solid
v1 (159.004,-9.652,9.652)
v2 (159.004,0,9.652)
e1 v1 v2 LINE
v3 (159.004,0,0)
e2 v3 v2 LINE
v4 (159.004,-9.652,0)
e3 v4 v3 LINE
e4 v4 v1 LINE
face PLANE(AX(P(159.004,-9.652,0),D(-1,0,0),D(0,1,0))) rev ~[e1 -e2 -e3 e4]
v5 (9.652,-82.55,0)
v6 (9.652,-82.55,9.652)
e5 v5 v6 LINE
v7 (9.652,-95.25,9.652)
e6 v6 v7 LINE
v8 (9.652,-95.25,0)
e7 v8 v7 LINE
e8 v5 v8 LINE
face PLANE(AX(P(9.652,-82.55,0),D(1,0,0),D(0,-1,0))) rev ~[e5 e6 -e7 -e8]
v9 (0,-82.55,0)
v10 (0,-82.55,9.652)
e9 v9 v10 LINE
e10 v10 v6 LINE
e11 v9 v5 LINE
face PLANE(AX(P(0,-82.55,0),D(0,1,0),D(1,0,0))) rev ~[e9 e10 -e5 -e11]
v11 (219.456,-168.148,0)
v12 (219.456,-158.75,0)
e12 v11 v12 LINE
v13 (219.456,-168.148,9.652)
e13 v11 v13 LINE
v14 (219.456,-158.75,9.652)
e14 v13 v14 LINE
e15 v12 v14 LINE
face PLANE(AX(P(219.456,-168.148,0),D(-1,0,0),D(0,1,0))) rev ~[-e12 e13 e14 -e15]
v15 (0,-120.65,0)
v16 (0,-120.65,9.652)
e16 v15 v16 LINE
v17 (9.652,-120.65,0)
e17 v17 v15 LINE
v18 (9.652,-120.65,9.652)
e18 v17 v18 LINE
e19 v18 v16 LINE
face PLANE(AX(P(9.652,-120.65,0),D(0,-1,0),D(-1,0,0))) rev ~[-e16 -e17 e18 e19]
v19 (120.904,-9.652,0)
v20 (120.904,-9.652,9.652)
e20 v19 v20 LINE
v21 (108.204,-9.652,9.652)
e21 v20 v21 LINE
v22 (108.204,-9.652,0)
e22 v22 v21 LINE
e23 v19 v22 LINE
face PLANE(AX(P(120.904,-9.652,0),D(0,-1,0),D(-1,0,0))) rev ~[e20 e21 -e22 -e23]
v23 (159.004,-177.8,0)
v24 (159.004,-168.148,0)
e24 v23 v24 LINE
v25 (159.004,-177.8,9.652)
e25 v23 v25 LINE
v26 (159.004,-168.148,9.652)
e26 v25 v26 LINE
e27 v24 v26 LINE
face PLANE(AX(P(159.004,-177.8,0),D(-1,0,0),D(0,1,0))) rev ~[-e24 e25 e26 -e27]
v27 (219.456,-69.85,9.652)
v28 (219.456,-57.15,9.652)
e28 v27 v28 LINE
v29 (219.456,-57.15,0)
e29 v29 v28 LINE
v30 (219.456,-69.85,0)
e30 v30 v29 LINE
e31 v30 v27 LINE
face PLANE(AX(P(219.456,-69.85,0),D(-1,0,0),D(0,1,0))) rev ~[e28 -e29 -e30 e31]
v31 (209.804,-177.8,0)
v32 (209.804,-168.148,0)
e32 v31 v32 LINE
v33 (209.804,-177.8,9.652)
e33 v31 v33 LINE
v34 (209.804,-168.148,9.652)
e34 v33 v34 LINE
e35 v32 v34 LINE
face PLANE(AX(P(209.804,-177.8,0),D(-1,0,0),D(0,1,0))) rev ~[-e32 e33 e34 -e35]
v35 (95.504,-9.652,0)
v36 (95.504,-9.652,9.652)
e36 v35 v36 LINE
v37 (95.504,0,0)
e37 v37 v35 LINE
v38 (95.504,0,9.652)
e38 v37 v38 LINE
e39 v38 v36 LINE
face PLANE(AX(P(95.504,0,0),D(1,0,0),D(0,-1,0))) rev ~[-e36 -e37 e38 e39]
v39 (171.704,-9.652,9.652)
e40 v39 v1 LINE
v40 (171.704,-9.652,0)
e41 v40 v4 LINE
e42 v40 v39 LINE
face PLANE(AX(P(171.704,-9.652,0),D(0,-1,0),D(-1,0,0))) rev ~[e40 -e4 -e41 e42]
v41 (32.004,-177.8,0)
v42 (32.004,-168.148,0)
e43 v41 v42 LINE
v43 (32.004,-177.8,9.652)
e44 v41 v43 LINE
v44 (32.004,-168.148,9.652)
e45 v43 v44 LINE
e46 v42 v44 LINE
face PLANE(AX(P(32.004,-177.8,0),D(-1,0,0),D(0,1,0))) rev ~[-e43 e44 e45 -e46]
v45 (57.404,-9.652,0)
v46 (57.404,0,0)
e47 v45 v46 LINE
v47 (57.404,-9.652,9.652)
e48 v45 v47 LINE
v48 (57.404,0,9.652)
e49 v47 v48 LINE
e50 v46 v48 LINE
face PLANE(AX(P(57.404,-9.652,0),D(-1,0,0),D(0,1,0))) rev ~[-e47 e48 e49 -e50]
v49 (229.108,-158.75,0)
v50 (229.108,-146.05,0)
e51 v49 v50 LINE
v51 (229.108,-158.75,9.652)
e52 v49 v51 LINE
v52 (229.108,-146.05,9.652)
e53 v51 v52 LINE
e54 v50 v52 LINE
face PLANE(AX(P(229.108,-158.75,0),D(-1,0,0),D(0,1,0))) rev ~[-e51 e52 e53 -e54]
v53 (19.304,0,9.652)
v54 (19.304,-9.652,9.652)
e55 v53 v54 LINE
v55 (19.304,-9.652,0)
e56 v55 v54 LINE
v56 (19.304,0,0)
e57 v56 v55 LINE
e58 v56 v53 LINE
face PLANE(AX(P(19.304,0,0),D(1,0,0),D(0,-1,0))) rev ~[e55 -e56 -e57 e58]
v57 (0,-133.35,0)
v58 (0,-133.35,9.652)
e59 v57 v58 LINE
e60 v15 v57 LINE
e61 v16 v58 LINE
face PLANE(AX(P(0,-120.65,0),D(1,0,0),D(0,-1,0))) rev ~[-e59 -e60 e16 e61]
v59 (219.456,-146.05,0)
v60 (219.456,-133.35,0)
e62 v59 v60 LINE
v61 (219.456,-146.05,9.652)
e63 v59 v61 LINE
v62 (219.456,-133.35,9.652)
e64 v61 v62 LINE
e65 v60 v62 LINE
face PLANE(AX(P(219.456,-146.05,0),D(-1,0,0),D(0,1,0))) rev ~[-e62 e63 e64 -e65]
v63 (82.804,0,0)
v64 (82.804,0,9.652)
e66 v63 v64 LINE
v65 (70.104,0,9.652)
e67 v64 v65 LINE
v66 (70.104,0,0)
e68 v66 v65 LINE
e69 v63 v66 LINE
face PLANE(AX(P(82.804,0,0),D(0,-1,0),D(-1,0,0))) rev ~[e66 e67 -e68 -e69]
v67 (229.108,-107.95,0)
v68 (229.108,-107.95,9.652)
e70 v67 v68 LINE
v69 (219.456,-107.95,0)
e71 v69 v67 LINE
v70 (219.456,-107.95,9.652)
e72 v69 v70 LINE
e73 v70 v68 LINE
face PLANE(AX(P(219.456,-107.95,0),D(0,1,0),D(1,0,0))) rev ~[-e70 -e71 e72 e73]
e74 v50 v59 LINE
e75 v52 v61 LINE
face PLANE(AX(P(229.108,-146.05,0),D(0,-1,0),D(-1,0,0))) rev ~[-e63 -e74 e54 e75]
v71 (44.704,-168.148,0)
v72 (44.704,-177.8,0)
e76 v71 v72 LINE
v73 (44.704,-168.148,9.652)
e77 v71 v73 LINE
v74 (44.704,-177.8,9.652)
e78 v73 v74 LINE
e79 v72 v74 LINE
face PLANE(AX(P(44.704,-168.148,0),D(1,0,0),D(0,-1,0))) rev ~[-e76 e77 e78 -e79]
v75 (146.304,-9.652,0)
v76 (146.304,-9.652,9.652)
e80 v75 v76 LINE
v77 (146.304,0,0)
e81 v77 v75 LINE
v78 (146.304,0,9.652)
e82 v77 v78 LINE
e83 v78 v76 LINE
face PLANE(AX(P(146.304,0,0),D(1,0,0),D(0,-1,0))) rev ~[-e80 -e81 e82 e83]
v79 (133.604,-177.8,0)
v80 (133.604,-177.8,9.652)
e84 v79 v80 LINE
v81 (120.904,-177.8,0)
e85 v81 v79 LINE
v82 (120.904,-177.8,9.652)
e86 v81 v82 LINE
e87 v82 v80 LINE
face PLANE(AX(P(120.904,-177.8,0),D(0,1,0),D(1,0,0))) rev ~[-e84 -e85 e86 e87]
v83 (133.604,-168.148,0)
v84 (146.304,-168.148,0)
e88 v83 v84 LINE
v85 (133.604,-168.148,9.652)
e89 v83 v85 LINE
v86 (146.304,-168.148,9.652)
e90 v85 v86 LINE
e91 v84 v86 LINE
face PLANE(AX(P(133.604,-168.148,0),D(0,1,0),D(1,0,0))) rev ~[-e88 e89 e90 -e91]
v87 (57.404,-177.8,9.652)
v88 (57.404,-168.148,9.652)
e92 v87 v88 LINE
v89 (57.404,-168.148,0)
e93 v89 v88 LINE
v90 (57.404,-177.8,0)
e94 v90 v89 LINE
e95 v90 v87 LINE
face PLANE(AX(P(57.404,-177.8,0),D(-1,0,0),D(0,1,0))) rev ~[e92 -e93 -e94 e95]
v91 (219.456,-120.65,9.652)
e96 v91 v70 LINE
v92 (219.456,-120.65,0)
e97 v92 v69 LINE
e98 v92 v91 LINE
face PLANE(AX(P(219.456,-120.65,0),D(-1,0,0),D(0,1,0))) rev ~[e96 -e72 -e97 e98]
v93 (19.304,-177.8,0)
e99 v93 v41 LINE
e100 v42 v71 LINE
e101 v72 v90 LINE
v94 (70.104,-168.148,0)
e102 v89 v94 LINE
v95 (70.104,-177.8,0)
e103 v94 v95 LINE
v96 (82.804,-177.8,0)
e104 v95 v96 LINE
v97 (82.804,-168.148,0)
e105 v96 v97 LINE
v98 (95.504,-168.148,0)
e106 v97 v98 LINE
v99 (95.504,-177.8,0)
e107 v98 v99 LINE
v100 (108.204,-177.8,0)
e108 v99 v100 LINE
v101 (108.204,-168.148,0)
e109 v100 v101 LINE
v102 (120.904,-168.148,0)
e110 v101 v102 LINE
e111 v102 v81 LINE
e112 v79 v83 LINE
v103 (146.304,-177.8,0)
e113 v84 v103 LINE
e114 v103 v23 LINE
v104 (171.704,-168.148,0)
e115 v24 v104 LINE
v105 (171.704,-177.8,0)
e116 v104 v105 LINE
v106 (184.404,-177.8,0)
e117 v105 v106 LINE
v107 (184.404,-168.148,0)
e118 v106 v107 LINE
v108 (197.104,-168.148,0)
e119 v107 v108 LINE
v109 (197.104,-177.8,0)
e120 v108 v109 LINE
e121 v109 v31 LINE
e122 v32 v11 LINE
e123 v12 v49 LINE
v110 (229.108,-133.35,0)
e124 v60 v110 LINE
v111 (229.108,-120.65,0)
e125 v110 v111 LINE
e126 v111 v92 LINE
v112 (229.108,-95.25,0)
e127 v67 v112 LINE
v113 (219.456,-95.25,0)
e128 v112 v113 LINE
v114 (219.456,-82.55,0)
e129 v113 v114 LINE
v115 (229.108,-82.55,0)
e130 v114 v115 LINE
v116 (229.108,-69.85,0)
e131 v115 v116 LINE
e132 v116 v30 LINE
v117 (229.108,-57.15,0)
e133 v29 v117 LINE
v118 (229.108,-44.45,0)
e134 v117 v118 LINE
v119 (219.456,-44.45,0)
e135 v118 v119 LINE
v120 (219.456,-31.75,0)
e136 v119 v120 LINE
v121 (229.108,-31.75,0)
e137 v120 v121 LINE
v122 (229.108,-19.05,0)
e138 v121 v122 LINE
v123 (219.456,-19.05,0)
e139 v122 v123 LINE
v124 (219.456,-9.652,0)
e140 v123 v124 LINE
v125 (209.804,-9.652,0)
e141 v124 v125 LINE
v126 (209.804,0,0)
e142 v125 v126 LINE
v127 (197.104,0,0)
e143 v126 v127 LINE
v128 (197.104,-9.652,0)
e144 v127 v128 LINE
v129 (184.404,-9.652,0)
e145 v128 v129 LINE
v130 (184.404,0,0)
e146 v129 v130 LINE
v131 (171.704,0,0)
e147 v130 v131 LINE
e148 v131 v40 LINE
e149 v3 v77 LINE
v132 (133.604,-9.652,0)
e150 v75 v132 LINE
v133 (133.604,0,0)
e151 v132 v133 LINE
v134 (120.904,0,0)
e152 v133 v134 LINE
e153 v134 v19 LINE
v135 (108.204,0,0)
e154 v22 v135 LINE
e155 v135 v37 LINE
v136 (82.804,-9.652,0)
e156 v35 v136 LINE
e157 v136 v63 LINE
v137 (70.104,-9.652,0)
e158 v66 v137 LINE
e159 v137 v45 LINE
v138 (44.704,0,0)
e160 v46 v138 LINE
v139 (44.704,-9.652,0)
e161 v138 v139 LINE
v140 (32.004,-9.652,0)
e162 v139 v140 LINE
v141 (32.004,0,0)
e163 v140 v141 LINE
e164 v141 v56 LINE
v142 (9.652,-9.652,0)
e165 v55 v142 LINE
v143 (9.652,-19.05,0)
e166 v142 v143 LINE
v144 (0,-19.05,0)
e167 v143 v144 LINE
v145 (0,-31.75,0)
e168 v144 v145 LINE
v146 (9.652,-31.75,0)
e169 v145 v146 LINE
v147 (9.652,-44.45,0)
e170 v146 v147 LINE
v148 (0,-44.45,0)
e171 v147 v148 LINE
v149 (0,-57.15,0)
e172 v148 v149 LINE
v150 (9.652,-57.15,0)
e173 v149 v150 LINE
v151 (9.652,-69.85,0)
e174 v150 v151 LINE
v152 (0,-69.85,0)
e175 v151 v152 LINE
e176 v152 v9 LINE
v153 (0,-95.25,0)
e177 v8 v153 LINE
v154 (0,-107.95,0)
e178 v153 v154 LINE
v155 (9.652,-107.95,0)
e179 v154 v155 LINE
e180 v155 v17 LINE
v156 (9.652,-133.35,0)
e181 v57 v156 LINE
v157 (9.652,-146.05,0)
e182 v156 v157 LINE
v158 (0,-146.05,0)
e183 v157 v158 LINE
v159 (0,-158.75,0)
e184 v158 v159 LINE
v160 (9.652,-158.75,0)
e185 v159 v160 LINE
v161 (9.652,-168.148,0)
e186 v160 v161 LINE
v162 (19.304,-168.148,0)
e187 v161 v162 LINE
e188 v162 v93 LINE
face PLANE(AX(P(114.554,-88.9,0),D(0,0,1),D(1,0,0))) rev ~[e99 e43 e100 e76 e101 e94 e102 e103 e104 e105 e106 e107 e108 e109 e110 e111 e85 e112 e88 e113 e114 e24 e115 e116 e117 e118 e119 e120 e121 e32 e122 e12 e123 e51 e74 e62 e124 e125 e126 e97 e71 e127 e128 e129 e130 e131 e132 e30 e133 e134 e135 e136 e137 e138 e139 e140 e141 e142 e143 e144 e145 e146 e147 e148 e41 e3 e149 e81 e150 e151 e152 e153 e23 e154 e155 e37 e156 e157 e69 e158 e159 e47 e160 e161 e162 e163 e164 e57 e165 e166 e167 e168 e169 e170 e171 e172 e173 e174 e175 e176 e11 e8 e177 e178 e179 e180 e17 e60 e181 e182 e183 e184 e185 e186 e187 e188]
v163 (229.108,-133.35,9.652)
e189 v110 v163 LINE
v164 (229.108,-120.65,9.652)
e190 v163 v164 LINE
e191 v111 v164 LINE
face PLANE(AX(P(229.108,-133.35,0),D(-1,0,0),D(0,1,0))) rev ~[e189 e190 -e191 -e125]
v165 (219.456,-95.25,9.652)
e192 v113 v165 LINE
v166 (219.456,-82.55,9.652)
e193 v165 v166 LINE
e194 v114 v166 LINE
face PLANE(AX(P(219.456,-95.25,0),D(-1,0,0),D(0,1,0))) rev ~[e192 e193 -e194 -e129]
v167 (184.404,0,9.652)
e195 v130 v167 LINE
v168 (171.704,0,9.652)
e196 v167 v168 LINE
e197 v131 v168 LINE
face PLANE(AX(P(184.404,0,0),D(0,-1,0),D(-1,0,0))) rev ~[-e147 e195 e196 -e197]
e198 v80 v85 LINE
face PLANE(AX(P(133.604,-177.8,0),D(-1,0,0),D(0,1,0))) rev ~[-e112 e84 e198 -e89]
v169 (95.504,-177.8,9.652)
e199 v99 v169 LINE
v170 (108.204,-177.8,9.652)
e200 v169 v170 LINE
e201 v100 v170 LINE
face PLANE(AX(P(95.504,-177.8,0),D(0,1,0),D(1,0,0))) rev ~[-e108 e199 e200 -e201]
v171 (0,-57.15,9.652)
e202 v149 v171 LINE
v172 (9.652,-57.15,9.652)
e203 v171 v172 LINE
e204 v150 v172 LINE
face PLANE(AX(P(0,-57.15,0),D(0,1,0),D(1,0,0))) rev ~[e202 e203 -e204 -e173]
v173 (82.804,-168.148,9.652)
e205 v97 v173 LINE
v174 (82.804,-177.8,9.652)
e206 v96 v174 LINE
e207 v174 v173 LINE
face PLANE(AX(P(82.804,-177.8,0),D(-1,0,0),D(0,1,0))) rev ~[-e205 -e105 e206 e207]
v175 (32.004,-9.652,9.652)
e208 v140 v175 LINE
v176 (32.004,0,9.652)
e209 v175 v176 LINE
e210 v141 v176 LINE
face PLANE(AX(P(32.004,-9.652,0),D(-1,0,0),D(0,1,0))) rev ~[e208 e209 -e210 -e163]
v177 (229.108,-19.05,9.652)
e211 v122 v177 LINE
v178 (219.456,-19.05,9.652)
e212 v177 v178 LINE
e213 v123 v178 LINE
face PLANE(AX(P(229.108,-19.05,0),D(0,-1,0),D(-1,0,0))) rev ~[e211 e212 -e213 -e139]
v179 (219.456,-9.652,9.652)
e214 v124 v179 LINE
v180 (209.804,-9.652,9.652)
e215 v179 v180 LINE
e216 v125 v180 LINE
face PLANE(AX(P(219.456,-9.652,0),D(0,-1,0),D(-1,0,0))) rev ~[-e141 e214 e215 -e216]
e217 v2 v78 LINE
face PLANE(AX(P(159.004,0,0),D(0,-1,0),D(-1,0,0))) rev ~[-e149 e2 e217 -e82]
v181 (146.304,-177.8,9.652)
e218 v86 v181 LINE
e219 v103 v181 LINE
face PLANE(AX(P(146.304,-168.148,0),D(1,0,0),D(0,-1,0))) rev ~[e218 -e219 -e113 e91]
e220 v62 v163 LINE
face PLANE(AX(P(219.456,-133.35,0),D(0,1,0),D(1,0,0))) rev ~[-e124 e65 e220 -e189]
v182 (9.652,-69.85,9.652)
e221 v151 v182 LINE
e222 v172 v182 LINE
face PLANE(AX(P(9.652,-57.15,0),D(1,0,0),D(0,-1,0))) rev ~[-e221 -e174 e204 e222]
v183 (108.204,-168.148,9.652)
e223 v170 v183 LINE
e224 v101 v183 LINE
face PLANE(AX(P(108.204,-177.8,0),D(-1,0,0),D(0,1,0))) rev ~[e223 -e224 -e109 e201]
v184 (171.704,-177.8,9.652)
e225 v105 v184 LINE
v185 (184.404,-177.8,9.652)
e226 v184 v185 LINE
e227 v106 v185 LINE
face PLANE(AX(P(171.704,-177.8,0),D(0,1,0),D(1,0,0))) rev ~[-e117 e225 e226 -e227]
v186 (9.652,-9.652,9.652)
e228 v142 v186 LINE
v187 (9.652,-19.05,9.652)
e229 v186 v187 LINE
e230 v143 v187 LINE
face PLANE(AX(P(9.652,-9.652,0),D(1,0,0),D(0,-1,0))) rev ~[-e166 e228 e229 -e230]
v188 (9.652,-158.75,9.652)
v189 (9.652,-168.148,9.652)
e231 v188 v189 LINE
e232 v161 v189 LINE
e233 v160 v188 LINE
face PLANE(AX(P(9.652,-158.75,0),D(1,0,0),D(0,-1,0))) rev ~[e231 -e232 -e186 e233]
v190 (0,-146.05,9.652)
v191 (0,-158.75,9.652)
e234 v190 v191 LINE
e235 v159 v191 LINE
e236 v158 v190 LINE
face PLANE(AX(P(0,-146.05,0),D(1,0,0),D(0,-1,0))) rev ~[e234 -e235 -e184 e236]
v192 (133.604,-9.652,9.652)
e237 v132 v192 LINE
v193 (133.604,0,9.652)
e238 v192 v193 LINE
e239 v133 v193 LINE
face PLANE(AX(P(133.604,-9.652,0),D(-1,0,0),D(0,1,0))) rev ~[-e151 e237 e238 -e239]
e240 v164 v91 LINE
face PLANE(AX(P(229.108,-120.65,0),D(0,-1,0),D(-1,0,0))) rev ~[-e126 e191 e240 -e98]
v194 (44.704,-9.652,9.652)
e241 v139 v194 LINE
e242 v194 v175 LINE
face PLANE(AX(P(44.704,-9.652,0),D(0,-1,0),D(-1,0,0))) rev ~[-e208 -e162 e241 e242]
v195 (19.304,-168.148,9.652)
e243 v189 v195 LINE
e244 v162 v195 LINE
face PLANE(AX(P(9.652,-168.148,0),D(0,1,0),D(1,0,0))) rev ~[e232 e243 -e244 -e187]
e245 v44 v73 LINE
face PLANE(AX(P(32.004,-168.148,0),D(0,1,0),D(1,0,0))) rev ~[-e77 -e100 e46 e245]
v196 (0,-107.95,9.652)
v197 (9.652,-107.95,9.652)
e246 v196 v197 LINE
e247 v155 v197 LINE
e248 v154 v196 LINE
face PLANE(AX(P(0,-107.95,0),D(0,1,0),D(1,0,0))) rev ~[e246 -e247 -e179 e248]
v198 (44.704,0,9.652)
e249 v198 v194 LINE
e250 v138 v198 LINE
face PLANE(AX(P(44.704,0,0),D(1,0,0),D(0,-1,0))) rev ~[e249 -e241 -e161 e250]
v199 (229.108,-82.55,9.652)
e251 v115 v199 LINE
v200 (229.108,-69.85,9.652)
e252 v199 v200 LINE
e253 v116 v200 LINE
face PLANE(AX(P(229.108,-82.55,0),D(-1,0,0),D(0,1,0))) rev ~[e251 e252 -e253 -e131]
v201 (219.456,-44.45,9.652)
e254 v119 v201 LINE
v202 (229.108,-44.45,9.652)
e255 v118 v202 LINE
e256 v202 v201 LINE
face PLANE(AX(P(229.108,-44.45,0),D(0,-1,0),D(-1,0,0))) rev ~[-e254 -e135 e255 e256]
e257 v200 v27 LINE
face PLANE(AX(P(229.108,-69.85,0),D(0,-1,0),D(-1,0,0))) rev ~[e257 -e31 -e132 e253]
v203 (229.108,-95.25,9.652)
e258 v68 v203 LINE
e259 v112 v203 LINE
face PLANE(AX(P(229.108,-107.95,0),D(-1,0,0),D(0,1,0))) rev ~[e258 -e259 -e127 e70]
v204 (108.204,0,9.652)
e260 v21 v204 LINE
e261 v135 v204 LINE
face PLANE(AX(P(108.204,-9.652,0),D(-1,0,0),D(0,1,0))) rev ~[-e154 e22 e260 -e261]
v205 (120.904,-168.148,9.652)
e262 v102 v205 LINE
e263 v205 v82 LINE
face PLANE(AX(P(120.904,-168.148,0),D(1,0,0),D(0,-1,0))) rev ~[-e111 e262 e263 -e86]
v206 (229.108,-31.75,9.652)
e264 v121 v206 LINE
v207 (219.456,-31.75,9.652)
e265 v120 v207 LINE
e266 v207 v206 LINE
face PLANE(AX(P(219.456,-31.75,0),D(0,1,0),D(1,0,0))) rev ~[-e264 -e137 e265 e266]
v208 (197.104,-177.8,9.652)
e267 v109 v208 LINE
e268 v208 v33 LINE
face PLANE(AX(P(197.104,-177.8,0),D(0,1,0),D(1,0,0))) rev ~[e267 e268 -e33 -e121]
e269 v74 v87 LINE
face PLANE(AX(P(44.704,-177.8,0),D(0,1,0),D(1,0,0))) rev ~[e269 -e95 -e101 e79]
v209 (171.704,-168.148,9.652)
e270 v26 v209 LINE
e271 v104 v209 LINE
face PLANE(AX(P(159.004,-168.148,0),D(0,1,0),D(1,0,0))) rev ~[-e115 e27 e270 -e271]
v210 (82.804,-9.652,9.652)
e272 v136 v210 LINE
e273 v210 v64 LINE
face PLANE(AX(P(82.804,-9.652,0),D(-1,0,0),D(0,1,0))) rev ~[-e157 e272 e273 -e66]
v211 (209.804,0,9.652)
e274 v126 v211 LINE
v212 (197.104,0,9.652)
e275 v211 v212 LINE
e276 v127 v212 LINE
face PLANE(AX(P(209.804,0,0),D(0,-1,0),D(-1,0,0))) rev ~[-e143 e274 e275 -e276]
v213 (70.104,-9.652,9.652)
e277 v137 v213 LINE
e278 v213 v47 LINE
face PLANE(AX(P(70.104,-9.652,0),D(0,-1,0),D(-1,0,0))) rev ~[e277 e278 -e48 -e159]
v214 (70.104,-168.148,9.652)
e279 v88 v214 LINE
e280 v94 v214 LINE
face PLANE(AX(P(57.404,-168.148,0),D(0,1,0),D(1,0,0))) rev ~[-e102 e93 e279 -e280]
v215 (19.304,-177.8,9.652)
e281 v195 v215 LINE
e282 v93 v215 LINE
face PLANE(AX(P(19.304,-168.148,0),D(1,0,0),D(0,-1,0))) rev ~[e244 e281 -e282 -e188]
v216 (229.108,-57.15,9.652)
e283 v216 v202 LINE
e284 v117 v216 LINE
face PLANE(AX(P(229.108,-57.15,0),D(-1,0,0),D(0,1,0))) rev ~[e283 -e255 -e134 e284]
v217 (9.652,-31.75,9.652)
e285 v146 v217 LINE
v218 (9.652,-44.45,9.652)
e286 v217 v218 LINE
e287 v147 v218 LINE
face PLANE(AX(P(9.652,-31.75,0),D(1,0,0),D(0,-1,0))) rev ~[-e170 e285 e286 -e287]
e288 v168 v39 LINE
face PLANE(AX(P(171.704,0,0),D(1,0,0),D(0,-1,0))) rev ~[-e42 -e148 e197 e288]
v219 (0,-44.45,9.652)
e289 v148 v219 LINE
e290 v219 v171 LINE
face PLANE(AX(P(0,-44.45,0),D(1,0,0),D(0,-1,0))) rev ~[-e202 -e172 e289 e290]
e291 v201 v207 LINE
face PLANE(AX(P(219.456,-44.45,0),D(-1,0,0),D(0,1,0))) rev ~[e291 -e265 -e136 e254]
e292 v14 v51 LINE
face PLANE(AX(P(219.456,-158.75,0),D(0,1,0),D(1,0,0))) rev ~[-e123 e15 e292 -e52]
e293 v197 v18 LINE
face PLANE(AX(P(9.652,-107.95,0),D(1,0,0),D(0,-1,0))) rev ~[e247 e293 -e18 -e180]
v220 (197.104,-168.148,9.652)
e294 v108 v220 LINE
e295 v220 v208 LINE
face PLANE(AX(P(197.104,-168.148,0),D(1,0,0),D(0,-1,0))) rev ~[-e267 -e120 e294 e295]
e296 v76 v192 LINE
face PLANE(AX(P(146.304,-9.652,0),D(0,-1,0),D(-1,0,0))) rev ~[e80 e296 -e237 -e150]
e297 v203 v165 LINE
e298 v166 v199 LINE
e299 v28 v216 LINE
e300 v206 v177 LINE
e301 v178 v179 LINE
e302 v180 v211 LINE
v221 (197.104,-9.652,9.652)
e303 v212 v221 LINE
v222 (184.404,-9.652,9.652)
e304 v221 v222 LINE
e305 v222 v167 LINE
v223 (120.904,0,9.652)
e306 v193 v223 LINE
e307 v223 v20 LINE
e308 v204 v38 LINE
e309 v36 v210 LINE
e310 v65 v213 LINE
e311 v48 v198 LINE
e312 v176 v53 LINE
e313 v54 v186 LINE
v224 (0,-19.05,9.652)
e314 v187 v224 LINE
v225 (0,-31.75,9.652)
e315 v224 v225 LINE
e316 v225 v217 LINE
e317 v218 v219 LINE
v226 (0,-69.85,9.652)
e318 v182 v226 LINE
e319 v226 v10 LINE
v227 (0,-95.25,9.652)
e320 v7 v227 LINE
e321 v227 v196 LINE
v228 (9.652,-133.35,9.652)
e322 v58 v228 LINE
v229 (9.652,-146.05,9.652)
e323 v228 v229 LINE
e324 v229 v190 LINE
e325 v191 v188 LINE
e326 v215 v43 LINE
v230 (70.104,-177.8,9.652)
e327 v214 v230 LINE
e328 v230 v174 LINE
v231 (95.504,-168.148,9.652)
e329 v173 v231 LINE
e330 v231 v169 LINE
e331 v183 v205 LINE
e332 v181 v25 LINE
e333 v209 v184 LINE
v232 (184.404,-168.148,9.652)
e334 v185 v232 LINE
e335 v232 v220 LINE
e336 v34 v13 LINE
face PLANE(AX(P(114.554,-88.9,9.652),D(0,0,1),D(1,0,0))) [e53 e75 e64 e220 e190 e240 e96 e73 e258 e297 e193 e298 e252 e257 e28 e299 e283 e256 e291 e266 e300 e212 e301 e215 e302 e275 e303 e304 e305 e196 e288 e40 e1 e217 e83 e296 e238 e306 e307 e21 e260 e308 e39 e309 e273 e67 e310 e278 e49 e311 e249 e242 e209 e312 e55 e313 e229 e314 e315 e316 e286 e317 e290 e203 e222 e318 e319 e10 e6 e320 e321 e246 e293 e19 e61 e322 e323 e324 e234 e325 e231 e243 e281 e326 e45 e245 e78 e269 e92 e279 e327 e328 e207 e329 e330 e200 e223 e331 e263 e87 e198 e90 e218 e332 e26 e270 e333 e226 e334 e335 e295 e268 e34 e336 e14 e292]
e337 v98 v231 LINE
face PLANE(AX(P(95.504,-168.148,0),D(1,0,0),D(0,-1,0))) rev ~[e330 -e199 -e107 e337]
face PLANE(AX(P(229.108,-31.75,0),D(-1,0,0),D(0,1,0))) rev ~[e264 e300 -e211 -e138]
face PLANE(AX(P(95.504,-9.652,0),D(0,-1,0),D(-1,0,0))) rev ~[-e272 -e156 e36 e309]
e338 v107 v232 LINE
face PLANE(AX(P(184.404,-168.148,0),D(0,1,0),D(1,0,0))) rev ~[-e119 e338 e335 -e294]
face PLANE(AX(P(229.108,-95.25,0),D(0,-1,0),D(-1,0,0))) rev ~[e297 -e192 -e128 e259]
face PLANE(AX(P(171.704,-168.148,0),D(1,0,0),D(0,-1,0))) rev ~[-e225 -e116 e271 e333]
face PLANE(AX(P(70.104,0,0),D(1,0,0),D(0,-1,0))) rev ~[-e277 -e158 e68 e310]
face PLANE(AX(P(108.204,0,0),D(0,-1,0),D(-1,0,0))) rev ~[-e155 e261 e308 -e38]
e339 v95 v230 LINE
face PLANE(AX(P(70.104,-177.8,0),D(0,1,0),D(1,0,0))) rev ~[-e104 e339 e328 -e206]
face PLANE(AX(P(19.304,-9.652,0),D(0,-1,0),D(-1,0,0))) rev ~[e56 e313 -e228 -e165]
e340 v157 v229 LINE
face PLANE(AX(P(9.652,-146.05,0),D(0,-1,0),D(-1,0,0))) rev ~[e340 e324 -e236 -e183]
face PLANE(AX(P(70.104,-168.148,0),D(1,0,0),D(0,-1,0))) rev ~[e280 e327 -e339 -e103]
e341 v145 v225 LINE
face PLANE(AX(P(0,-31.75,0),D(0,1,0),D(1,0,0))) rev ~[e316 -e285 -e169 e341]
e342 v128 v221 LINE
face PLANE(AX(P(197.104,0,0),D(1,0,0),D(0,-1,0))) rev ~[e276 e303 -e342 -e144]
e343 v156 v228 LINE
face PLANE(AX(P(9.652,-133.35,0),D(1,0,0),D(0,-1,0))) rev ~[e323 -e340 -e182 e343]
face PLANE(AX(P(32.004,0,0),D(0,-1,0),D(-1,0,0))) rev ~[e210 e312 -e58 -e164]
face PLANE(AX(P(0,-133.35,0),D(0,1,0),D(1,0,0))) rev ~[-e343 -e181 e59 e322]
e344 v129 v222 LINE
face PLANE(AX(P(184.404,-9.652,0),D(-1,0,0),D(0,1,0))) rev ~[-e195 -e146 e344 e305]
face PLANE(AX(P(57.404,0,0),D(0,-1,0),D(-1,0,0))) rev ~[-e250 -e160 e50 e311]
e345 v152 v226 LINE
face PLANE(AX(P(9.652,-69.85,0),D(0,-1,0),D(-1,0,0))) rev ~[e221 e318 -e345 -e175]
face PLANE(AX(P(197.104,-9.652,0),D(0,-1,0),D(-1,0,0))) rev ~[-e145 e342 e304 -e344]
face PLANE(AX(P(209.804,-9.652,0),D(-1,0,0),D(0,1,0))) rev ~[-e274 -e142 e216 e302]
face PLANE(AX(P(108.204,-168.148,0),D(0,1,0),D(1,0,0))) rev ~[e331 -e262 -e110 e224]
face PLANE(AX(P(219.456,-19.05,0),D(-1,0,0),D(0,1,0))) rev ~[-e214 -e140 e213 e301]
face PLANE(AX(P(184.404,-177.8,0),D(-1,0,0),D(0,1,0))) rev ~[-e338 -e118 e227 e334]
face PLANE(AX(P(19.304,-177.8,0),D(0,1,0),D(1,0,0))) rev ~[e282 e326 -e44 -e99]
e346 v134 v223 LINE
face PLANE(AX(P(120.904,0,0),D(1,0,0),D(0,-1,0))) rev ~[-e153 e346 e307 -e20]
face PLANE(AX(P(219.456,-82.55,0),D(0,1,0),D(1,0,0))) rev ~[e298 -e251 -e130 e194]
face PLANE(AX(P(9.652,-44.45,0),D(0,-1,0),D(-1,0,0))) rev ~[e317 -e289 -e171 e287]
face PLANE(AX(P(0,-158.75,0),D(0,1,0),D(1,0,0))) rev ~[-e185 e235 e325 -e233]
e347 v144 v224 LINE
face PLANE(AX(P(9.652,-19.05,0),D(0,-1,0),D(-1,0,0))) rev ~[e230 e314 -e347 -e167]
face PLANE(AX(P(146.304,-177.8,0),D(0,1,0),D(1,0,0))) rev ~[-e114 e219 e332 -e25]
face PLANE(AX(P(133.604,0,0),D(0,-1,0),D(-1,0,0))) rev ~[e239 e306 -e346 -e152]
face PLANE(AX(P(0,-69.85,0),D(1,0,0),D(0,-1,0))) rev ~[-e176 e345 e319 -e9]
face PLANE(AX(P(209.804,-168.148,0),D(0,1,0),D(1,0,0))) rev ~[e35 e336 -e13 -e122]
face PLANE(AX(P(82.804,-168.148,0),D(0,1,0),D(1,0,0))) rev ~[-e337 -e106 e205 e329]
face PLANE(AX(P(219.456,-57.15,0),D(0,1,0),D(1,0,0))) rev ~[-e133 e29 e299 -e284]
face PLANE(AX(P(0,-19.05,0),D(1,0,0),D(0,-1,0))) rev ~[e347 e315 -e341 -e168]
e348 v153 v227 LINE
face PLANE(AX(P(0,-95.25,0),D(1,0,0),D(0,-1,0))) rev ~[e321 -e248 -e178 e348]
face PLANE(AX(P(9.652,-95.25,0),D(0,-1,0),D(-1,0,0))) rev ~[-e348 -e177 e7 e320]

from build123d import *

# Parameters (mm, degrees)
F1_DEPTH = 9.652


with BuildPart() as f1:
    # F0 (on Top) → F1 (new body)
    with BuildSketch(Plane.XY):
        Polygon((32.004, 0), (19.304, 0), (19.304, -9.652), (9.652, -9.652), (9.652, -19.05), (0, -19.05), (0, -31.75), (9.652, -31.75), (9.652, -44.45), (0, -44.45), (0, -57.15), (9.652, -57.15), (9.652, -69.85), (0, -69.85), (0, -82.55), (9.652, -82.55), (9.652, -95.25), (0, -95.25), (0, -107.95), (9.652, -107.95), (9.652, -120.65), (0, -120.65), (0, -133.35), (9.652, -133.35), (9.652, -146.05), (0, -146.05), (0, -158.75), (9.652, -158.75), (9.652, -168.148), (19.304, -168.148), (19.304, -177.8), (32.004, -177.8), (32.004, -168.148), (44.704, -168.148), (44.704, -177.8), (57.404, -177.8), (57.404, -168.148), (70.104, -168.148), (70.104, -177.8), (82.804, -177.8), (82.804, -168.148), (95.504, -168.148), (95.504, -177.8), (108.204, -177.8), (108.204, -168.148), (120.904, -168.148), (120.904, -177.8), (133.604, -177.8), (133.604, -168.148), (146.304, -168.148), (146.304, -177.8), (159.004, -177.8), (159.004, -168.148), (171.704, -168.148), (171.704, -177.8), (184.404, -177.8), (184.404, -168.148), (197.104, -168.148), (197.104, -177.8), (209.804, -177.8), (209.804, -168.148), (219.456, -168.148), (219.456, -158.75), (229.108, -158.75), (229.108, -146.05), (219.456, -146.05), (219.456, -133.35), (229.108, -133.35), (229.108, -120.65), (219.456, -120.65), (219.456, -107.95), (229.108, -107.95), (229.108, -95.25), (219.456, -95.25), (219.456, -82.55), (229.108, -82.55), (229.108, -69.85), (219.456, -69.85), (219.456, -57.15), (229.108, -57.15), (229.108, -44.45), (219.456, -44.45), (219.456, -31.75), (229.108, -31.75), (229.108, -19.05), (219.456, -19.05), (219.456, -9.652), (209.804, -9.652), (209.804, 0), (197.104, 0), (197.104, -9.652), (184.404, -9.652), (184.404, 0), (171.704, 0), (171.704, -9.652), (159.004, -9.652), (159.004, 0), (146.304, 0), (146.304, -9.652), (133.604, -9.652), (133.604, 0), (120.904, 0), (120.904, -9.652), (108.204, -9.652), (108.204, 0), (95.504, 0), (95.504, -9.652), (82.804, -9.652), (82.804, 0), (70.104, 0), (70.104, -9.652), (57.404, -9.652), (57.404, 0), (44.704, 0), (44.704, -9.652), (32.004, -9.652), align=None)
    extrude(amount=F1_DEPTH)


solid = f1.part
